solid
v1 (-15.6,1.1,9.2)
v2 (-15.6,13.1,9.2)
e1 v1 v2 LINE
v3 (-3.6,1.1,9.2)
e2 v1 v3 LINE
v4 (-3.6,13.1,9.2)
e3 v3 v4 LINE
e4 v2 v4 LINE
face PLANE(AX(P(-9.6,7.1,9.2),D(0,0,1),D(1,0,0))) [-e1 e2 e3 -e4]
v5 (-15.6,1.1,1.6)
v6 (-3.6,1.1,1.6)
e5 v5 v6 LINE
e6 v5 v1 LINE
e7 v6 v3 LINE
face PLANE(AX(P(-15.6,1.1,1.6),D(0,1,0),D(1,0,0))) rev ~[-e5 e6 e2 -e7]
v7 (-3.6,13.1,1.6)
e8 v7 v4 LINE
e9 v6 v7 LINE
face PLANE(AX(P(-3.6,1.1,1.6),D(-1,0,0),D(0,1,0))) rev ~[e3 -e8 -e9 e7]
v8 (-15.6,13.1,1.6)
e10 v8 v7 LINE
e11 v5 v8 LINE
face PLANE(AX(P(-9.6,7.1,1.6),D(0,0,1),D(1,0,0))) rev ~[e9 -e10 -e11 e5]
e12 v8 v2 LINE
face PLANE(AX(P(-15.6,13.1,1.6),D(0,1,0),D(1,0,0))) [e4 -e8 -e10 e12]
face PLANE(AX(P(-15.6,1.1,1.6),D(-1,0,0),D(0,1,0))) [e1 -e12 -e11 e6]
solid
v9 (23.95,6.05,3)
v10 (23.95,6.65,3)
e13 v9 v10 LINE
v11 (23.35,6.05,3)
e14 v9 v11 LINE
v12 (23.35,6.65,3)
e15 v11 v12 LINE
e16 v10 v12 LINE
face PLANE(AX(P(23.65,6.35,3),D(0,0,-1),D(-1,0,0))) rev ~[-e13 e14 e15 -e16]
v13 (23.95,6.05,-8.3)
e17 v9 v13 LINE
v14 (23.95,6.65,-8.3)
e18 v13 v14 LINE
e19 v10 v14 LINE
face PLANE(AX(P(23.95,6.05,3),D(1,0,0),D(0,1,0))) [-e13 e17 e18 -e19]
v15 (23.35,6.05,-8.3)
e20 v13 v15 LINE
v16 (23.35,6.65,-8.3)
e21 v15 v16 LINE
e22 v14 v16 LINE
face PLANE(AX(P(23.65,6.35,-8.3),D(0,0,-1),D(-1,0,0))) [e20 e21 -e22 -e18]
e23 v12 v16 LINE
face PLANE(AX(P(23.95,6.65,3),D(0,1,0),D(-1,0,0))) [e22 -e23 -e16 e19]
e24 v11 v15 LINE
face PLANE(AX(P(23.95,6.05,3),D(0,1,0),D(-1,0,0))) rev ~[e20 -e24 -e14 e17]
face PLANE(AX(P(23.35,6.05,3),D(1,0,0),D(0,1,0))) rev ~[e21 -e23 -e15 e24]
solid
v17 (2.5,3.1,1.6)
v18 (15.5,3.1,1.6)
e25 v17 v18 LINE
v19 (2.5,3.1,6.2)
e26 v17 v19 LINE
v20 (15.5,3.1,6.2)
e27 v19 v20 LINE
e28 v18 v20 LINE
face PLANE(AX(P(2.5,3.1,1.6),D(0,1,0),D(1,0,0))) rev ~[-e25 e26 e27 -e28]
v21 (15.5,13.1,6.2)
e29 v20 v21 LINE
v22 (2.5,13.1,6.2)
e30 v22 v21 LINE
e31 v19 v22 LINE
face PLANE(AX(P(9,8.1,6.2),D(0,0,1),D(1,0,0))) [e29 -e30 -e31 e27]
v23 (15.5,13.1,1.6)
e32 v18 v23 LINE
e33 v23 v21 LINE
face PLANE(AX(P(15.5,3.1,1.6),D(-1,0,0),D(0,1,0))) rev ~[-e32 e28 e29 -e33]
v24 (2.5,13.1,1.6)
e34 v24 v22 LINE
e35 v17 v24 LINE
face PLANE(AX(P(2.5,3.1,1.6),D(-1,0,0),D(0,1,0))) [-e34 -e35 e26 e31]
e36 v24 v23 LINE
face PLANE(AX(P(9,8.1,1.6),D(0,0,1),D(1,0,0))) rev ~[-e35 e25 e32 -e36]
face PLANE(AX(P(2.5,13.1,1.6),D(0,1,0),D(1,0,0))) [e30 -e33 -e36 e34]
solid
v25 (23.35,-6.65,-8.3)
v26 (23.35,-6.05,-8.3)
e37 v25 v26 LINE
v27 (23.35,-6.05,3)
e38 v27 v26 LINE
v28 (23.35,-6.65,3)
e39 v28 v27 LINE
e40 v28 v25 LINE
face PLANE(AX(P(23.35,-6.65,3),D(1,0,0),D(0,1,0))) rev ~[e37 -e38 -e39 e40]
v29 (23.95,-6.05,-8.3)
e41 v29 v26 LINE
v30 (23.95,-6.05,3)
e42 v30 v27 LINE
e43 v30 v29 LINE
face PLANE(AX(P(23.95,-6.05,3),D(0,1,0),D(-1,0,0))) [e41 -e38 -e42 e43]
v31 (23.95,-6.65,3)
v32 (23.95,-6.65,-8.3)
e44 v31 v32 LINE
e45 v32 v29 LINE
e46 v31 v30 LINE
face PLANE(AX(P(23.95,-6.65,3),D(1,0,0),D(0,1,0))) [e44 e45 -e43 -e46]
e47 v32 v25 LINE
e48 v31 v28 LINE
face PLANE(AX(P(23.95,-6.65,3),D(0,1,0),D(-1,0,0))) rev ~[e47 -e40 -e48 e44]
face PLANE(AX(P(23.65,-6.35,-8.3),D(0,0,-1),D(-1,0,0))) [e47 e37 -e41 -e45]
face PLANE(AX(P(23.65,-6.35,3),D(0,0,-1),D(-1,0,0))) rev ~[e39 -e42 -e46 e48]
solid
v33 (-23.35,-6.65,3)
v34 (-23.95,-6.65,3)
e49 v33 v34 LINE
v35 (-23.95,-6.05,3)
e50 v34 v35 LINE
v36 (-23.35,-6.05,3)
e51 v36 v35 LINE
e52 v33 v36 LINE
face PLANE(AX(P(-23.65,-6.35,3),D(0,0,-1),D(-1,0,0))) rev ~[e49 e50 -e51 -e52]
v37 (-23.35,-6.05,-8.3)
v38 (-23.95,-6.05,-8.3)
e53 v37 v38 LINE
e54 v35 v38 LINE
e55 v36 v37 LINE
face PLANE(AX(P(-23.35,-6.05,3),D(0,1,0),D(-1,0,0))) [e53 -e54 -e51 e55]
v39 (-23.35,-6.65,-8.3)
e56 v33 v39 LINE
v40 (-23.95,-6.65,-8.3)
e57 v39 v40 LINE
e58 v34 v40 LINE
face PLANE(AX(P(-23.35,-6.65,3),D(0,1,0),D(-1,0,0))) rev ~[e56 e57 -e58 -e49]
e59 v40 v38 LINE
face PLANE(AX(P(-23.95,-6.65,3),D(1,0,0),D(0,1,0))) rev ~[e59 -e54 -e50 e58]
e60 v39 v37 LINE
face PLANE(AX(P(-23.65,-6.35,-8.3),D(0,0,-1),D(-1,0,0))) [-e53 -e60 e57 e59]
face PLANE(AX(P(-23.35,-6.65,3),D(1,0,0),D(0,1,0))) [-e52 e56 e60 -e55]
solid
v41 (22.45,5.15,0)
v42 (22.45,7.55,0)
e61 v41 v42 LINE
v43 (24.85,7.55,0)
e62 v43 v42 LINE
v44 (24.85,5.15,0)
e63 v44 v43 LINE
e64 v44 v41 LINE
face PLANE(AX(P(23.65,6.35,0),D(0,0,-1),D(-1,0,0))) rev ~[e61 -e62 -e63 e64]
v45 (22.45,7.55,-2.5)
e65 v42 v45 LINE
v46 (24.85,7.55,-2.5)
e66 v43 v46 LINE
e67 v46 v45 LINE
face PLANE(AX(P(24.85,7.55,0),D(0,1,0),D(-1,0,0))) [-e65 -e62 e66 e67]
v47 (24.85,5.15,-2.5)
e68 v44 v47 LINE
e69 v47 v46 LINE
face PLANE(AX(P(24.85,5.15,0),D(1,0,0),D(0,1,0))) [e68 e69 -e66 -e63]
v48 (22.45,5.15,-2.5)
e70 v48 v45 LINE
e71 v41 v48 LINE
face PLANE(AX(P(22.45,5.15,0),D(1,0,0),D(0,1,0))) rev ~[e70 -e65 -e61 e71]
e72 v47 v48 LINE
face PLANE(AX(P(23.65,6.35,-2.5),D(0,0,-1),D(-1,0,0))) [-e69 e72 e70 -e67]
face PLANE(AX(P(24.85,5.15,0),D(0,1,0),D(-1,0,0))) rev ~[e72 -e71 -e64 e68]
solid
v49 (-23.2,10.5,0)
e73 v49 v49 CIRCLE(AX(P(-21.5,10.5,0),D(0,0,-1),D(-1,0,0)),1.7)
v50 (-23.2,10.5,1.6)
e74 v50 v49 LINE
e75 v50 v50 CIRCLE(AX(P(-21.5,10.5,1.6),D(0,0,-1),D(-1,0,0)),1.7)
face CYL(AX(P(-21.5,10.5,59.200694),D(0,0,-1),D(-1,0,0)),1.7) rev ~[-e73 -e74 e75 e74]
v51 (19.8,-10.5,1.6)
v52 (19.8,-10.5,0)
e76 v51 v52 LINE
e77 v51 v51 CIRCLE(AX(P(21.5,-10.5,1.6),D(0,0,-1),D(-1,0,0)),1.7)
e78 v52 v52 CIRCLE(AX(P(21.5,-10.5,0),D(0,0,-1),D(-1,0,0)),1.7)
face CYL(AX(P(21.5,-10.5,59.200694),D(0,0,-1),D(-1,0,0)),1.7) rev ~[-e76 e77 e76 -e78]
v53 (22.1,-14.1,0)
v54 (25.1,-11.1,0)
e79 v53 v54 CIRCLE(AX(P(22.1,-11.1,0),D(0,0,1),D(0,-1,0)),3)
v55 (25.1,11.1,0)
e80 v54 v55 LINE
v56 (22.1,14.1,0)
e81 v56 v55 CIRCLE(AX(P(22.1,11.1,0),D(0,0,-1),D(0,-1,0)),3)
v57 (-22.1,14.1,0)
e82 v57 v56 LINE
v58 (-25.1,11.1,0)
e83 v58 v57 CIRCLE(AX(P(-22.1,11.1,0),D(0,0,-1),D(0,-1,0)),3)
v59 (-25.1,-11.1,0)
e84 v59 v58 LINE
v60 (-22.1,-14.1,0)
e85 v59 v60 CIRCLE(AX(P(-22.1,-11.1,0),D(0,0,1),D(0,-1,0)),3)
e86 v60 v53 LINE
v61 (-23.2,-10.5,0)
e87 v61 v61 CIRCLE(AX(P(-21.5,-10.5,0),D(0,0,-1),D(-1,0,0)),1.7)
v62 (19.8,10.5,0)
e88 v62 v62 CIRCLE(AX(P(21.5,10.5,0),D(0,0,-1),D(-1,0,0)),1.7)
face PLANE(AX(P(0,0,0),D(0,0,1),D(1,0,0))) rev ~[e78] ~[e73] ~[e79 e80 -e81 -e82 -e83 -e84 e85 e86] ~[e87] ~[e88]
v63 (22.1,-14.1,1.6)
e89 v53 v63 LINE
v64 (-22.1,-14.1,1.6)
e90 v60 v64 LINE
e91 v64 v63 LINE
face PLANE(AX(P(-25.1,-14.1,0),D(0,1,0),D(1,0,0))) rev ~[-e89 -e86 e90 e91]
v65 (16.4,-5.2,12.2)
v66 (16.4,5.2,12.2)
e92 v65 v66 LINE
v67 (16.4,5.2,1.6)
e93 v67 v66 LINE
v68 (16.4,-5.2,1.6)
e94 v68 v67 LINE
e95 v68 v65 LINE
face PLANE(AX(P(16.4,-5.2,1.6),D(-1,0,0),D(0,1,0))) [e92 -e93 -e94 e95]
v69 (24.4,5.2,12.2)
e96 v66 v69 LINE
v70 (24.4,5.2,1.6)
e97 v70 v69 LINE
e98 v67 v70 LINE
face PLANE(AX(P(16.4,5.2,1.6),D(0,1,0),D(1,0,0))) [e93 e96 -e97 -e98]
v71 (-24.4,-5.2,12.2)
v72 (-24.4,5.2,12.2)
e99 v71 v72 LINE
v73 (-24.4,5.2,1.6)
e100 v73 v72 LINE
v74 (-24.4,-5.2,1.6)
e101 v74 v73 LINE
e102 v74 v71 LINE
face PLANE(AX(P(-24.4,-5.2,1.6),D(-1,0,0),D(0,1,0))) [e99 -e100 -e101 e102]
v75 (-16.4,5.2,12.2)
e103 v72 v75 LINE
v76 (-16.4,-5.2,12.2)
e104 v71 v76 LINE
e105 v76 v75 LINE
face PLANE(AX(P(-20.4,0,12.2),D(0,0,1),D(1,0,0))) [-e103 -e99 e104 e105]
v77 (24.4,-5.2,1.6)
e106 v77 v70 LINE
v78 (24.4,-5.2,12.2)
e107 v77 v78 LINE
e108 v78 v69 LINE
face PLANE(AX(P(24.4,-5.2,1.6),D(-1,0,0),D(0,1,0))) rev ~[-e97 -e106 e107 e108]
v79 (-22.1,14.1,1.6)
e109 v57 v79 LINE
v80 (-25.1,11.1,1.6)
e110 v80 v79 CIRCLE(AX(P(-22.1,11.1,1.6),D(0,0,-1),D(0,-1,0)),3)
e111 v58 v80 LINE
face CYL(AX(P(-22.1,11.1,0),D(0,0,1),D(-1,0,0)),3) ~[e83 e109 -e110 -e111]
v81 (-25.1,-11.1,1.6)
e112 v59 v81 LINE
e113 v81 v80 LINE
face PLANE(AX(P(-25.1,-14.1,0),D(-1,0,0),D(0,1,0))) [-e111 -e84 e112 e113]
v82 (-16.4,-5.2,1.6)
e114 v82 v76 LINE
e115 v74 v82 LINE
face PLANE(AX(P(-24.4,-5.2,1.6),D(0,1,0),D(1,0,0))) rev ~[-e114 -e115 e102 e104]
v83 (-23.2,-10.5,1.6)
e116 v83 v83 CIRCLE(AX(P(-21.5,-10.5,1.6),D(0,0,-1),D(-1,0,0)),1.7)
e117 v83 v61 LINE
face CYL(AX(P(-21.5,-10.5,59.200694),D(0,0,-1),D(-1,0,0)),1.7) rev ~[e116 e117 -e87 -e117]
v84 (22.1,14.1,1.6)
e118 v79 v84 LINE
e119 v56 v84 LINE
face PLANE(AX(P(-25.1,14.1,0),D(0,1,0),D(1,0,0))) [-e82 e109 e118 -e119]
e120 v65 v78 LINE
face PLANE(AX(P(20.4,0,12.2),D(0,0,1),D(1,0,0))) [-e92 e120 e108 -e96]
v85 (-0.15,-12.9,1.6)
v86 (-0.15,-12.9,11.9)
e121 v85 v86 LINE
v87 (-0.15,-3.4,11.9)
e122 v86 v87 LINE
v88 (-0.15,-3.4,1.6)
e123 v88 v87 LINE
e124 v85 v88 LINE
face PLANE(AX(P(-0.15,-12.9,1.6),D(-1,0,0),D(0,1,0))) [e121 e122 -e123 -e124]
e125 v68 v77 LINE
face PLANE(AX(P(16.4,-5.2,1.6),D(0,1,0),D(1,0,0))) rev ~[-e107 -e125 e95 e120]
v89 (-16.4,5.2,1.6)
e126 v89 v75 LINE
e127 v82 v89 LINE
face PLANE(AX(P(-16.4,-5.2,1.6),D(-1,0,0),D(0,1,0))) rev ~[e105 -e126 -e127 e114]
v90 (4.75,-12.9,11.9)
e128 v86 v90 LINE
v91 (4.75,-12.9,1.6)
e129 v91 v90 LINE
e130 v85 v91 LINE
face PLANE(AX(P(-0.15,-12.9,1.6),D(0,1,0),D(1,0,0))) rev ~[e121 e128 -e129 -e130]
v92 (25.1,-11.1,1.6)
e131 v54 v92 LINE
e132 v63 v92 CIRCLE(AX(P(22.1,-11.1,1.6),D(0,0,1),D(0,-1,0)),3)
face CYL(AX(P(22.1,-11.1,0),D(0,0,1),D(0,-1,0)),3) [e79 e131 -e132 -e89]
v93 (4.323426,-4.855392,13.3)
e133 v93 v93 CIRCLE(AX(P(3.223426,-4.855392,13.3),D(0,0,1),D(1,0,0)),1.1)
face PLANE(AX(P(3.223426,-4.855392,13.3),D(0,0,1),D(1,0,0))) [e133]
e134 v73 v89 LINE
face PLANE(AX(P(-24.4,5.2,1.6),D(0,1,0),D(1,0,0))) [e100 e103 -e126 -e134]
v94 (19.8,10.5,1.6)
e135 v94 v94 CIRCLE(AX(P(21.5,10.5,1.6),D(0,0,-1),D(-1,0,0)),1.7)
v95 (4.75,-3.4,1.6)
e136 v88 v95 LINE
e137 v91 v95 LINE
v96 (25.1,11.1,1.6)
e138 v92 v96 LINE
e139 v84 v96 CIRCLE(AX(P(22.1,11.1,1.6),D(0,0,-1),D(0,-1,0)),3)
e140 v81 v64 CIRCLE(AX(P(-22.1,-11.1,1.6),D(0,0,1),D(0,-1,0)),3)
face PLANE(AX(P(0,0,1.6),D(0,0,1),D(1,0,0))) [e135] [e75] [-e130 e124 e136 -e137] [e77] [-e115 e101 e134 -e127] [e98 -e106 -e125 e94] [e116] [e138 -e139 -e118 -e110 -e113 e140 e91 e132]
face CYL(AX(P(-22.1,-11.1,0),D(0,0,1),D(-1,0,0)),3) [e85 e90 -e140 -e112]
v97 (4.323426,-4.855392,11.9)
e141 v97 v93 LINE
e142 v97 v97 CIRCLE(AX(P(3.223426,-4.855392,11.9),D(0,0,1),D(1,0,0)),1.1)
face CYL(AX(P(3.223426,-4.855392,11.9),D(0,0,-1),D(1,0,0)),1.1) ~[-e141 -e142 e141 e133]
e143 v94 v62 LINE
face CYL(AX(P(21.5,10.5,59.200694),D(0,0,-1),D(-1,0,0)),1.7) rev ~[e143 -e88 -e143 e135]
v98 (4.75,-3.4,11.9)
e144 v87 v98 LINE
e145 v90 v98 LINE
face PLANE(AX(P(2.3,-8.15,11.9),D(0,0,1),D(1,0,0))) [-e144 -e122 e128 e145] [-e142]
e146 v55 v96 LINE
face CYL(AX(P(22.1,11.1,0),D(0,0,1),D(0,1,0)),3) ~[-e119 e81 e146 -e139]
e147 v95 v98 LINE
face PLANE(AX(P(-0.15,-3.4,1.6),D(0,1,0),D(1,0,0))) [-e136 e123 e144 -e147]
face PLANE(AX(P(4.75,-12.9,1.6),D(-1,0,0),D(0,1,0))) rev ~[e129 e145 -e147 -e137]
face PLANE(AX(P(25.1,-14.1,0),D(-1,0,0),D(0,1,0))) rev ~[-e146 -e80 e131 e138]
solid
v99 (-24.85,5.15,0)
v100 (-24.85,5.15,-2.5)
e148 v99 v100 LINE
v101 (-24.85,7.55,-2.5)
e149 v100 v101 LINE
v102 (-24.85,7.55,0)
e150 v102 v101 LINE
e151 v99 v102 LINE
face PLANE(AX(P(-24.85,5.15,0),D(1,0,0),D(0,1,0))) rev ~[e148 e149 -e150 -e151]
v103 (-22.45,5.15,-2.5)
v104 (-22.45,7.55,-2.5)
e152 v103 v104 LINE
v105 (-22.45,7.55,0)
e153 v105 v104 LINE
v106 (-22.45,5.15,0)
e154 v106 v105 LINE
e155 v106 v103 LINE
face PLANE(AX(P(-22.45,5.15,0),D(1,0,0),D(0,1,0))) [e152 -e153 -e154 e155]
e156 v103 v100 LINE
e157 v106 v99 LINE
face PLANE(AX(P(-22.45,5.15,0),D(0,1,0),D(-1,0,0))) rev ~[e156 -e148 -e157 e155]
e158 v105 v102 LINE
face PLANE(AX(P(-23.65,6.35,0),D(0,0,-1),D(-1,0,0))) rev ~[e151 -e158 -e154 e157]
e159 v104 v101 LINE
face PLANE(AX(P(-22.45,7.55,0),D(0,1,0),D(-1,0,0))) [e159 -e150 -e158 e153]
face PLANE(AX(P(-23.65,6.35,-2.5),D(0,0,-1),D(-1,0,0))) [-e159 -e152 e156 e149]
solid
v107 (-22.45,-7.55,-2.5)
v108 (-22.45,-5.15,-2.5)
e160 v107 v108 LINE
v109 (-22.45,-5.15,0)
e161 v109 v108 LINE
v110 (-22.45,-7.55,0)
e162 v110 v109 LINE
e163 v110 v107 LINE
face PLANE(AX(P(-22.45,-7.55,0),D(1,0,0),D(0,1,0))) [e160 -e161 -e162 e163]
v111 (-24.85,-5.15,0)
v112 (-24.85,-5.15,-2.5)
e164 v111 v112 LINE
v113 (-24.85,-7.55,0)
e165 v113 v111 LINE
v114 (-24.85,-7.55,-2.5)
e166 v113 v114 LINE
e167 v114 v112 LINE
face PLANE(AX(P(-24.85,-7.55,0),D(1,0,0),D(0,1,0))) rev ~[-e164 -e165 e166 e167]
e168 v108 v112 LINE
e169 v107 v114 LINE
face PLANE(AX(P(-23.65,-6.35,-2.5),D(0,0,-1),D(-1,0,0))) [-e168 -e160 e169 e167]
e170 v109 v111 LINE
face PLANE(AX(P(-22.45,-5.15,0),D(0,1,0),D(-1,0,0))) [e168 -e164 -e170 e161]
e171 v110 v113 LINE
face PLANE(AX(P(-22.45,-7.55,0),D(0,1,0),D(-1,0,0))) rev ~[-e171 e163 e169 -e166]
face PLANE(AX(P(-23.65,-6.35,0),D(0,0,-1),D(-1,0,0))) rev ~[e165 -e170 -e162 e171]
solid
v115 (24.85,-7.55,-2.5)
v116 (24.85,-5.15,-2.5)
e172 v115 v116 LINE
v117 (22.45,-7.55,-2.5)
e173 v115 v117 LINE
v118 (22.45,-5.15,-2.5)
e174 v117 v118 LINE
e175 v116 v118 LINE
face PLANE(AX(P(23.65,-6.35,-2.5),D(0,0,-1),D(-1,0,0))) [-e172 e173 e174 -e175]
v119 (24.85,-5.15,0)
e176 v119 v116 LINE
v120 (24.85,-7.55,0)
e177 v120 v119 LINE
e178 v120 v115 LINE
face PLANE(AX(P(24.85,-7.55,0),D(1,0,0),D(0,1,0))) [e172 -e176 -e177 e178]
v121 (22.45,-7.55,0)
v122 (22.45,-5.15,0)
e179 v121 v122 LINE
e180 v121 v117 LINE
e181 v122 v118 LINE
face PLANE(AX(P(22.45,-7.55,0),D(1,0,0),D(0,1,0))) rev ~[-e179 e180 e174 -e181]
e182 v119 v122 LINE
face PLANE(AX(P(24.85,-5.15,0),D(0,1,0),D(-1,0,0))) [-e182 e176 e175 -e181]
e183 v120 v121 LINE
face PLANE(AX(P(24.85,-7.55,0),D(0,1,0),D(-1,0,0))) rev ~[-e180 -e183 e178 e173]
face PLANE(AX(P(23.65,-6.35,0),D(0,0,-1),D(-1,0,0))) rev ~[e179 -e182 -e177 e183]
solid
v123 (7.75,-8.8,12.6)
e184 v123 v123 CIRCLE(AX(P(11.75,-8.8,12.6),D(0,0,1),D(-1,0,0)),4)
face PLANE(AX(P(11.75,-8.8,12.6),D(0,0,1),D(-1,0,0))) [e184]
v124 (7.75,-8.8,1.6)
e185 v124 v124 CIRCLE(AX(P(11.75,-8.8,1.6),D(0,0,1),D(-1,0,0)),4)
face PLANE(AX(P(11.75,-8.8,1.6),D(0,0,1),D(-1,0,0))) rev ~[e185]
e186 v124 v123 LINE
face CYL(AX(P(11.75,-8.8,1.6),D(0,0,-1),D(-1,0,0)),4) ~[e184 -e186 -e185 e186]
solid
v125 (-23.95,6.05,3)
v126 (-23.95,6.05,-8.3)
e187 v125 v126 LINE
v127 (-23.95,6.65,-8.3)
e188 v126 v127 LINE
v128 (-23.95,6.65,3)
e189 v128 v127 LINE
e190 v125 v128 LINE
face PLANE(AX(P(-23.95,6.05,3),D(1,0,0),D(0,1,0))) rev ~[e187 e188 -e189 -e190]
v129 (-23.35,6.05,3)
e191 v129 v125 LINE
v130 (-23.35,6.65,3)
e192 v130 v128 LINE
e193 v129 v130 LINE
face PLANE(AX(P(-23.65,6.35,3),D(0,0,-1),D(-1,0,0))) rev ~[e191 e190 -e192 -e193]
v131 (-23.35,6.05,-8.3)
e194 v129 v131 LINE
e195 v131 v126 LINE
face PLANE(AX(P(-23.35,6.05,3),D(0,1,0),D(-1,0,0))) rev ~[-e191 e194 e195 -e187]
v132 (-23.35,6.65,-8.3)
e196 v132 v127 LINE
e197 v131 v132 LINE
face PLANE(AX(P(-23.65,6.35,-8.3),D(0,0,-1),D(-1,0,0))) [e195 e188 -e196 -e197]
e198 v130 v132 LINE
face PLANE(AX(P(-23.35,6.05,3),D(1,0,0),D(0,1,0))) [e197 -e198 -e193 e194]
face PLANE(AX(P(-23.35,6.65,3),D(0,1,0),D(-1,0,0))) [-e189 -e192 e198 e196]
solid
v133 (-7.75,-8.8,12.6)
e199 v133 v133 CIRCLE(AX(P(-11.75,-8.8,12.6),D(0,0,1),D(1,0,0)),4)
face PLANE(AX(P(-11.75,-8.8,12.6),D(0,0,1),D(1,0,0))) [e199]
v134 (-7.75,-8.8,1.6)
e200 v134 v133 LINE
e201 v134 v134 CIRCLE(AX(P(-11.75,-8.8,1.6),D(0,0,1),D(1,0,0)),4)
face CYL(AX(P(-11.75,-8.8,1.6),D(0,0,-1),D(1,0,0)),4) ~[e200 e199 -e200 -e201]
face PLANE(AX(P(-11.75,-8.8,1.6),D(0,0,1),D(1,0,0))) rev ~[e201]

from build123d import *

# Parameters (mm, degrees)
ESQUISSE1_W               = 50.2
ESQUISSE1_H               = 28.2
BOSS_EXTRU_1_DEPTH        = 1.6
D_GAGEMENT_M31_D          = 3.4
CONG_1_R                  = 3
ESQUISSE5_W               = 8
ESQUISSE5_H               = 10.4
BOSS_EXTRU_2_DEPTH        = 10.6
ESQUISSE6_R               = 4
BOSS_EXTRU_3_DEPTH        = 11
BOSS_EXTRU_3_2_DEPTH      = 11
ESQUISSE7_W               = 4.9
ESQUISSE7_H               = 9.5
BOSS_EXTRU_4_DEPTH        = 10.3
ESQUISSE8_R               = 1.1
BOSS_EXTRU_5_DEPTH        = 1.4
ESQUISSE9_W               = 12
ESQUISSE9_H               = 12
BOSS_EXTRU_6_DEPTH        = 7.6
ESQUISSE10_W              = 13
ESQUISSE10_H              = 10
BOSS_EXTRU_7_DEPTH        = 4.6
BOSS_EXTRU_8_DEPTH        = 8.3
BOSS_EXTRU_8_DEPTH_BACK   = 3
ESQUISSE11_W              = 0.6
ESQUISSE11_H              = 0.6
BOSS_EXTRU_8_2_DEPTH      = 8.3
BOSS_EXTRU_8_2_DEPTH_BACK = 3
BOSS_EXTRU_8_3_DEPTH      = 8.3
BOSS_EXTRU_8_3_DEPTH_BACK = 3
BOSS_EXTRU_8_4_DEPTH      = 8.3
BOSS_EXTRU_8_4_DEPTH_BACK = 3
ESQUISSE12_W              = 2.4
ESQUISSE12_H              = 2.4
BOSS_EXTRU_9_DEPTH        = 2.5
BOSS_EXTRU_9_2_DEPTH      = 2.5
BOSS_EXTRU_9_3_DEPTH      = 2.5
BOSS_EXTRU_9_4_DEPTH      = 2.5


with BuildPart() as part:
    # Esquisse1 → Boss.-Extru.1 (new body)
    with BuildSketch(Plane.XY):
        Rectangle(ESQUISSE1_W, ESQUISSE1_H)
    extrude(amount=BOSS_EXTRU_1_DEPTH)

    # Dégagement M31 (through all)
    with Locations(Plane.XY.offset(1.6)):
        with Locations((-21.5, 10.5), (21.5, 10.5), (21.5, -10.5), (-21.5, -10.5)):
            Hole(D_GAGEMENT_M31_D / 2)

    # Congé1
    cong_1_edges = [part.edges().sort_by_distance(p)[0] for p in [
        (-25.1, 14.1, 0.8),
        (25.1, 14.1, 0.8),
        (25.1, -14.1, 0.8),
        (-25.1, -14.1, 0.8),
    ]]
    fillet(cong_1_edges, radius=CONG_1_R)

    # Esquisse5 → Boss.-Extru.2 (add)
    with BuildSketch(Plane.XY.offset(1.6)):
        with Locations((-20.4, 0)):
            Rectangle(ESQUISSE5_W, ESQUISSE5_H)
        with Locations((20.4, 0)):
            Rectangle(ESQUISSE5_W, ESQUISSE5_H)
    extrude(amount=BOSS_EXTRU_2_DEPTH)



with BuildPart() as body_2:
    # Esquisse6 → Boss.-Extru.3 (new body)
    with BuildSketch(Plane.XY.offset(1.6)):
        with Locations((-11.75, -8.8)):
            Circle(ESQUISSE6_R)
    extrude(amount=BOSS_EXTRU_3_DEPTH)


with BuildPart() as body_3:
    # Esquisse6 → Boss.-Extru.3 2 (new body)
    with BuildSketch(Plane.XY.offset(1.6)):
        with Locations(Location((11.75, -8.8, 0), (0, 0, 180))):
            Circle(ESQUISSE6_R)
    extrude(amount=BOSS_EXTRU_3_2_DEPTH)


with BuildPart() as body_4:
    # Esquisse7 → Boss.-Extru.4 (new body)
    with BuildSketch(Plane.XY.offset(1.6)):
        with Locations((2.3, -8.15)):
            Rectangle(ESQUISSE7_W, ESQUISSE7_H)
    extrude(amount=BOSS_EXTRU_4_DEPTH)


with BuildPart() as part_1:
    add(part.part)

    add(body_4.part)  # Boss.-Extru.5 merges body 4
    # Esquisse8 → Boss.-Extru.5 (add)
    with BuildSketch(Plane.XY.offset(11.9)):
        with Locations((3.223425578, -4.855392367)):
            Circle(ESQUISSE8_R)
    extrude(amount=BOSS_EXTRU_5_DEPTH)


with BuildPart() as body_4_2:
    # Esquisse9 → Boss.-Extru.6 (new body)
    with BuildSketch(Plane.XY.offset(1.6)):
        with Locations((-9.6, 7.1)):
            Rectangle(ESQUISSE9_W, ESQUISSE9_H)
    extrude(amount=BOSS_EXTRU_6_DEPTH)


with BuildPart() as body_5:
    # Esquisse10 → Boss.-Extru.7 (new body)
    with BuildSketch(Plane.XY.offset(1.6)):
        with Locations((9, 8.1)):
            Rectangle(ESQUISSE10_W, ESQUISSE10_H)
    extrude(amount=BOSS_EXTRU_7_DEPTH)


with BuildPart() as body_6:
    # Esquisse11 → Boss.-Extru.8 (new, two sides: drawn at the far end of the back side and taken through both)
    with BuildSketch(Plane(origin=(0, 0, 0), x_dir=(-1, 0, 0), z_dir=(0, 0, -1)).offset(-BOSS_EXTRU_8_DEPTH_BACK)):
        with Locations((-23.65, 6.35)):
            Rectangle(ESQUISSE11_W, ESQUISSE11_H)
    extrude(amount=BOSS_EXTRU_8_DEPTH + BOSS_EXTRU_8_DEPTH_BACK)


with BuildPart() as body_7:
    # Esquisse11 → Boss.-Extru.8 2 (new, two sides: drawn at the far end of the back side and taken through both)
    with BuildSketch(Plane(origin=(0, 0, 0), x_dir=(-1, 0, 0), z_dir=(0, 0, -1)).offset(-BOSS_EXTRU_8_2_DEPTH_BACK)):
        with Locations((23.65, 6.35)):
            Rectangle(ESQUISSE11_W, ESQUISSE11_H)
    extrude(amount=BOSS_EXTRU_8_2_DEPTH + BOSS_EXTRU_8_2_DEPTH_BACK)


with BuildPart() as body_8:
    # Esquisse11 → Boss.-Extru.8 3 (new, two sides: drawn at the far end of the back side and taken through both)
    with BuildSketch(Plane(origin=(0, 0, 0), x_dir=(-1, 0, 0), z_dir=(0, 0, -1)).offset(-BOSS_EXTRU_8_3_DEPTH_BACK)):
        with Locations((-23.65, -6.35)):
            Rectangle(ESQUISSE11_W, ESQUISSE11_H)
    extrude(amount=BOSS_EXTRU_8_3_DEPTH + BOSS_EXTRU_8_3_DEPTH_BACK)


with BuildPart() as body_9:
    # Esquisse11 → Boss.-Extru.8 4 (new, two sides: drawn at the far end of the back side and taken through both)
    with BuildSketch(Plane(origin=(0, 0, 0), x_dir=(-1, 0, 0), z_dir=(0, 0, -1)).offset(-BOSS_EXTRU_8_4_DEPTH_BACK)):
        with Locations((23.65, -6.35)):
            Rectangle(ESQUISSE11_W, ESQUISSE11_H)
    extrude(amount=BOSS_EXTRU_8_4_DEPTH + BOSS_EXTRU_8_4_DEPTH_BACK)


with BuildPart() as body_10:
    # Esquisse12 → Boss.-Extru.9 (new body)
    with BuildSketch(Plane(origin=(0, 0, 0), x_dir=(-1, 0, 0), z_dir=(0, 0, -1))):
        with Locations((-23.65, 6.35)):
            Rectangle(ESQUISSE12_W, ESQUISSE12_H)
    extrude(amount=BOSS_EXTRU_9_DEPTH)


with BuildPart() as body_11:
    # Esquisse12 → Boss.-Extru.9 2 (new body)
    with BuildSketch(Plane(origin=(0, 0, 0), x_dir=(-1, 0, 0), z_dir=(0, 0, -1))):
        with Locations((23.65, 6.35)):
            Rectangle(ESQUISSE12_W, ESQUISSE12_H)
    extrude(amount=BOSS_EXTRU_9_2_DEPTH)


with BuildPart() as body_12:
    # Esquisse12 → Boss.-Extru.9 3 (new body)
    with BuildSketch(Plane(origin=(0, 0, 0), x_dir=(-1, 0, 0), z_dir=(0, 0, -1))):
        with Locations((23.65, -6.35)):
            Rectangle(ESQUISSE12_W, ESQUISSE12_H)
    extrude(amount=BOSS_EXTRU_9_3_DEPTH)


with BuildPart() as body_13:
    # Esquisse12 → Boss.-Extru.9 4 (new body)
    with BuildSketch(Plane(origin=(0, 0, 0), x_dir=(-1, 0, 0), z_dir=(0, 0, -1))):
        with Locations((-23.65, -6.35)):
            Rectangle(ESQUISSE12_W, ESQUISSE12_H)
    extrude(amount=BOSS_EXTRU_9_4_DEPTH)


solid = Compound([body_2.part, body_3.part, part_1.part, body_4_2.part, body_5.part, body_6.part, body_7.part, body_8.part, body_9.part, body_10.part, body_11.part, body_12.part, body_13.part])
